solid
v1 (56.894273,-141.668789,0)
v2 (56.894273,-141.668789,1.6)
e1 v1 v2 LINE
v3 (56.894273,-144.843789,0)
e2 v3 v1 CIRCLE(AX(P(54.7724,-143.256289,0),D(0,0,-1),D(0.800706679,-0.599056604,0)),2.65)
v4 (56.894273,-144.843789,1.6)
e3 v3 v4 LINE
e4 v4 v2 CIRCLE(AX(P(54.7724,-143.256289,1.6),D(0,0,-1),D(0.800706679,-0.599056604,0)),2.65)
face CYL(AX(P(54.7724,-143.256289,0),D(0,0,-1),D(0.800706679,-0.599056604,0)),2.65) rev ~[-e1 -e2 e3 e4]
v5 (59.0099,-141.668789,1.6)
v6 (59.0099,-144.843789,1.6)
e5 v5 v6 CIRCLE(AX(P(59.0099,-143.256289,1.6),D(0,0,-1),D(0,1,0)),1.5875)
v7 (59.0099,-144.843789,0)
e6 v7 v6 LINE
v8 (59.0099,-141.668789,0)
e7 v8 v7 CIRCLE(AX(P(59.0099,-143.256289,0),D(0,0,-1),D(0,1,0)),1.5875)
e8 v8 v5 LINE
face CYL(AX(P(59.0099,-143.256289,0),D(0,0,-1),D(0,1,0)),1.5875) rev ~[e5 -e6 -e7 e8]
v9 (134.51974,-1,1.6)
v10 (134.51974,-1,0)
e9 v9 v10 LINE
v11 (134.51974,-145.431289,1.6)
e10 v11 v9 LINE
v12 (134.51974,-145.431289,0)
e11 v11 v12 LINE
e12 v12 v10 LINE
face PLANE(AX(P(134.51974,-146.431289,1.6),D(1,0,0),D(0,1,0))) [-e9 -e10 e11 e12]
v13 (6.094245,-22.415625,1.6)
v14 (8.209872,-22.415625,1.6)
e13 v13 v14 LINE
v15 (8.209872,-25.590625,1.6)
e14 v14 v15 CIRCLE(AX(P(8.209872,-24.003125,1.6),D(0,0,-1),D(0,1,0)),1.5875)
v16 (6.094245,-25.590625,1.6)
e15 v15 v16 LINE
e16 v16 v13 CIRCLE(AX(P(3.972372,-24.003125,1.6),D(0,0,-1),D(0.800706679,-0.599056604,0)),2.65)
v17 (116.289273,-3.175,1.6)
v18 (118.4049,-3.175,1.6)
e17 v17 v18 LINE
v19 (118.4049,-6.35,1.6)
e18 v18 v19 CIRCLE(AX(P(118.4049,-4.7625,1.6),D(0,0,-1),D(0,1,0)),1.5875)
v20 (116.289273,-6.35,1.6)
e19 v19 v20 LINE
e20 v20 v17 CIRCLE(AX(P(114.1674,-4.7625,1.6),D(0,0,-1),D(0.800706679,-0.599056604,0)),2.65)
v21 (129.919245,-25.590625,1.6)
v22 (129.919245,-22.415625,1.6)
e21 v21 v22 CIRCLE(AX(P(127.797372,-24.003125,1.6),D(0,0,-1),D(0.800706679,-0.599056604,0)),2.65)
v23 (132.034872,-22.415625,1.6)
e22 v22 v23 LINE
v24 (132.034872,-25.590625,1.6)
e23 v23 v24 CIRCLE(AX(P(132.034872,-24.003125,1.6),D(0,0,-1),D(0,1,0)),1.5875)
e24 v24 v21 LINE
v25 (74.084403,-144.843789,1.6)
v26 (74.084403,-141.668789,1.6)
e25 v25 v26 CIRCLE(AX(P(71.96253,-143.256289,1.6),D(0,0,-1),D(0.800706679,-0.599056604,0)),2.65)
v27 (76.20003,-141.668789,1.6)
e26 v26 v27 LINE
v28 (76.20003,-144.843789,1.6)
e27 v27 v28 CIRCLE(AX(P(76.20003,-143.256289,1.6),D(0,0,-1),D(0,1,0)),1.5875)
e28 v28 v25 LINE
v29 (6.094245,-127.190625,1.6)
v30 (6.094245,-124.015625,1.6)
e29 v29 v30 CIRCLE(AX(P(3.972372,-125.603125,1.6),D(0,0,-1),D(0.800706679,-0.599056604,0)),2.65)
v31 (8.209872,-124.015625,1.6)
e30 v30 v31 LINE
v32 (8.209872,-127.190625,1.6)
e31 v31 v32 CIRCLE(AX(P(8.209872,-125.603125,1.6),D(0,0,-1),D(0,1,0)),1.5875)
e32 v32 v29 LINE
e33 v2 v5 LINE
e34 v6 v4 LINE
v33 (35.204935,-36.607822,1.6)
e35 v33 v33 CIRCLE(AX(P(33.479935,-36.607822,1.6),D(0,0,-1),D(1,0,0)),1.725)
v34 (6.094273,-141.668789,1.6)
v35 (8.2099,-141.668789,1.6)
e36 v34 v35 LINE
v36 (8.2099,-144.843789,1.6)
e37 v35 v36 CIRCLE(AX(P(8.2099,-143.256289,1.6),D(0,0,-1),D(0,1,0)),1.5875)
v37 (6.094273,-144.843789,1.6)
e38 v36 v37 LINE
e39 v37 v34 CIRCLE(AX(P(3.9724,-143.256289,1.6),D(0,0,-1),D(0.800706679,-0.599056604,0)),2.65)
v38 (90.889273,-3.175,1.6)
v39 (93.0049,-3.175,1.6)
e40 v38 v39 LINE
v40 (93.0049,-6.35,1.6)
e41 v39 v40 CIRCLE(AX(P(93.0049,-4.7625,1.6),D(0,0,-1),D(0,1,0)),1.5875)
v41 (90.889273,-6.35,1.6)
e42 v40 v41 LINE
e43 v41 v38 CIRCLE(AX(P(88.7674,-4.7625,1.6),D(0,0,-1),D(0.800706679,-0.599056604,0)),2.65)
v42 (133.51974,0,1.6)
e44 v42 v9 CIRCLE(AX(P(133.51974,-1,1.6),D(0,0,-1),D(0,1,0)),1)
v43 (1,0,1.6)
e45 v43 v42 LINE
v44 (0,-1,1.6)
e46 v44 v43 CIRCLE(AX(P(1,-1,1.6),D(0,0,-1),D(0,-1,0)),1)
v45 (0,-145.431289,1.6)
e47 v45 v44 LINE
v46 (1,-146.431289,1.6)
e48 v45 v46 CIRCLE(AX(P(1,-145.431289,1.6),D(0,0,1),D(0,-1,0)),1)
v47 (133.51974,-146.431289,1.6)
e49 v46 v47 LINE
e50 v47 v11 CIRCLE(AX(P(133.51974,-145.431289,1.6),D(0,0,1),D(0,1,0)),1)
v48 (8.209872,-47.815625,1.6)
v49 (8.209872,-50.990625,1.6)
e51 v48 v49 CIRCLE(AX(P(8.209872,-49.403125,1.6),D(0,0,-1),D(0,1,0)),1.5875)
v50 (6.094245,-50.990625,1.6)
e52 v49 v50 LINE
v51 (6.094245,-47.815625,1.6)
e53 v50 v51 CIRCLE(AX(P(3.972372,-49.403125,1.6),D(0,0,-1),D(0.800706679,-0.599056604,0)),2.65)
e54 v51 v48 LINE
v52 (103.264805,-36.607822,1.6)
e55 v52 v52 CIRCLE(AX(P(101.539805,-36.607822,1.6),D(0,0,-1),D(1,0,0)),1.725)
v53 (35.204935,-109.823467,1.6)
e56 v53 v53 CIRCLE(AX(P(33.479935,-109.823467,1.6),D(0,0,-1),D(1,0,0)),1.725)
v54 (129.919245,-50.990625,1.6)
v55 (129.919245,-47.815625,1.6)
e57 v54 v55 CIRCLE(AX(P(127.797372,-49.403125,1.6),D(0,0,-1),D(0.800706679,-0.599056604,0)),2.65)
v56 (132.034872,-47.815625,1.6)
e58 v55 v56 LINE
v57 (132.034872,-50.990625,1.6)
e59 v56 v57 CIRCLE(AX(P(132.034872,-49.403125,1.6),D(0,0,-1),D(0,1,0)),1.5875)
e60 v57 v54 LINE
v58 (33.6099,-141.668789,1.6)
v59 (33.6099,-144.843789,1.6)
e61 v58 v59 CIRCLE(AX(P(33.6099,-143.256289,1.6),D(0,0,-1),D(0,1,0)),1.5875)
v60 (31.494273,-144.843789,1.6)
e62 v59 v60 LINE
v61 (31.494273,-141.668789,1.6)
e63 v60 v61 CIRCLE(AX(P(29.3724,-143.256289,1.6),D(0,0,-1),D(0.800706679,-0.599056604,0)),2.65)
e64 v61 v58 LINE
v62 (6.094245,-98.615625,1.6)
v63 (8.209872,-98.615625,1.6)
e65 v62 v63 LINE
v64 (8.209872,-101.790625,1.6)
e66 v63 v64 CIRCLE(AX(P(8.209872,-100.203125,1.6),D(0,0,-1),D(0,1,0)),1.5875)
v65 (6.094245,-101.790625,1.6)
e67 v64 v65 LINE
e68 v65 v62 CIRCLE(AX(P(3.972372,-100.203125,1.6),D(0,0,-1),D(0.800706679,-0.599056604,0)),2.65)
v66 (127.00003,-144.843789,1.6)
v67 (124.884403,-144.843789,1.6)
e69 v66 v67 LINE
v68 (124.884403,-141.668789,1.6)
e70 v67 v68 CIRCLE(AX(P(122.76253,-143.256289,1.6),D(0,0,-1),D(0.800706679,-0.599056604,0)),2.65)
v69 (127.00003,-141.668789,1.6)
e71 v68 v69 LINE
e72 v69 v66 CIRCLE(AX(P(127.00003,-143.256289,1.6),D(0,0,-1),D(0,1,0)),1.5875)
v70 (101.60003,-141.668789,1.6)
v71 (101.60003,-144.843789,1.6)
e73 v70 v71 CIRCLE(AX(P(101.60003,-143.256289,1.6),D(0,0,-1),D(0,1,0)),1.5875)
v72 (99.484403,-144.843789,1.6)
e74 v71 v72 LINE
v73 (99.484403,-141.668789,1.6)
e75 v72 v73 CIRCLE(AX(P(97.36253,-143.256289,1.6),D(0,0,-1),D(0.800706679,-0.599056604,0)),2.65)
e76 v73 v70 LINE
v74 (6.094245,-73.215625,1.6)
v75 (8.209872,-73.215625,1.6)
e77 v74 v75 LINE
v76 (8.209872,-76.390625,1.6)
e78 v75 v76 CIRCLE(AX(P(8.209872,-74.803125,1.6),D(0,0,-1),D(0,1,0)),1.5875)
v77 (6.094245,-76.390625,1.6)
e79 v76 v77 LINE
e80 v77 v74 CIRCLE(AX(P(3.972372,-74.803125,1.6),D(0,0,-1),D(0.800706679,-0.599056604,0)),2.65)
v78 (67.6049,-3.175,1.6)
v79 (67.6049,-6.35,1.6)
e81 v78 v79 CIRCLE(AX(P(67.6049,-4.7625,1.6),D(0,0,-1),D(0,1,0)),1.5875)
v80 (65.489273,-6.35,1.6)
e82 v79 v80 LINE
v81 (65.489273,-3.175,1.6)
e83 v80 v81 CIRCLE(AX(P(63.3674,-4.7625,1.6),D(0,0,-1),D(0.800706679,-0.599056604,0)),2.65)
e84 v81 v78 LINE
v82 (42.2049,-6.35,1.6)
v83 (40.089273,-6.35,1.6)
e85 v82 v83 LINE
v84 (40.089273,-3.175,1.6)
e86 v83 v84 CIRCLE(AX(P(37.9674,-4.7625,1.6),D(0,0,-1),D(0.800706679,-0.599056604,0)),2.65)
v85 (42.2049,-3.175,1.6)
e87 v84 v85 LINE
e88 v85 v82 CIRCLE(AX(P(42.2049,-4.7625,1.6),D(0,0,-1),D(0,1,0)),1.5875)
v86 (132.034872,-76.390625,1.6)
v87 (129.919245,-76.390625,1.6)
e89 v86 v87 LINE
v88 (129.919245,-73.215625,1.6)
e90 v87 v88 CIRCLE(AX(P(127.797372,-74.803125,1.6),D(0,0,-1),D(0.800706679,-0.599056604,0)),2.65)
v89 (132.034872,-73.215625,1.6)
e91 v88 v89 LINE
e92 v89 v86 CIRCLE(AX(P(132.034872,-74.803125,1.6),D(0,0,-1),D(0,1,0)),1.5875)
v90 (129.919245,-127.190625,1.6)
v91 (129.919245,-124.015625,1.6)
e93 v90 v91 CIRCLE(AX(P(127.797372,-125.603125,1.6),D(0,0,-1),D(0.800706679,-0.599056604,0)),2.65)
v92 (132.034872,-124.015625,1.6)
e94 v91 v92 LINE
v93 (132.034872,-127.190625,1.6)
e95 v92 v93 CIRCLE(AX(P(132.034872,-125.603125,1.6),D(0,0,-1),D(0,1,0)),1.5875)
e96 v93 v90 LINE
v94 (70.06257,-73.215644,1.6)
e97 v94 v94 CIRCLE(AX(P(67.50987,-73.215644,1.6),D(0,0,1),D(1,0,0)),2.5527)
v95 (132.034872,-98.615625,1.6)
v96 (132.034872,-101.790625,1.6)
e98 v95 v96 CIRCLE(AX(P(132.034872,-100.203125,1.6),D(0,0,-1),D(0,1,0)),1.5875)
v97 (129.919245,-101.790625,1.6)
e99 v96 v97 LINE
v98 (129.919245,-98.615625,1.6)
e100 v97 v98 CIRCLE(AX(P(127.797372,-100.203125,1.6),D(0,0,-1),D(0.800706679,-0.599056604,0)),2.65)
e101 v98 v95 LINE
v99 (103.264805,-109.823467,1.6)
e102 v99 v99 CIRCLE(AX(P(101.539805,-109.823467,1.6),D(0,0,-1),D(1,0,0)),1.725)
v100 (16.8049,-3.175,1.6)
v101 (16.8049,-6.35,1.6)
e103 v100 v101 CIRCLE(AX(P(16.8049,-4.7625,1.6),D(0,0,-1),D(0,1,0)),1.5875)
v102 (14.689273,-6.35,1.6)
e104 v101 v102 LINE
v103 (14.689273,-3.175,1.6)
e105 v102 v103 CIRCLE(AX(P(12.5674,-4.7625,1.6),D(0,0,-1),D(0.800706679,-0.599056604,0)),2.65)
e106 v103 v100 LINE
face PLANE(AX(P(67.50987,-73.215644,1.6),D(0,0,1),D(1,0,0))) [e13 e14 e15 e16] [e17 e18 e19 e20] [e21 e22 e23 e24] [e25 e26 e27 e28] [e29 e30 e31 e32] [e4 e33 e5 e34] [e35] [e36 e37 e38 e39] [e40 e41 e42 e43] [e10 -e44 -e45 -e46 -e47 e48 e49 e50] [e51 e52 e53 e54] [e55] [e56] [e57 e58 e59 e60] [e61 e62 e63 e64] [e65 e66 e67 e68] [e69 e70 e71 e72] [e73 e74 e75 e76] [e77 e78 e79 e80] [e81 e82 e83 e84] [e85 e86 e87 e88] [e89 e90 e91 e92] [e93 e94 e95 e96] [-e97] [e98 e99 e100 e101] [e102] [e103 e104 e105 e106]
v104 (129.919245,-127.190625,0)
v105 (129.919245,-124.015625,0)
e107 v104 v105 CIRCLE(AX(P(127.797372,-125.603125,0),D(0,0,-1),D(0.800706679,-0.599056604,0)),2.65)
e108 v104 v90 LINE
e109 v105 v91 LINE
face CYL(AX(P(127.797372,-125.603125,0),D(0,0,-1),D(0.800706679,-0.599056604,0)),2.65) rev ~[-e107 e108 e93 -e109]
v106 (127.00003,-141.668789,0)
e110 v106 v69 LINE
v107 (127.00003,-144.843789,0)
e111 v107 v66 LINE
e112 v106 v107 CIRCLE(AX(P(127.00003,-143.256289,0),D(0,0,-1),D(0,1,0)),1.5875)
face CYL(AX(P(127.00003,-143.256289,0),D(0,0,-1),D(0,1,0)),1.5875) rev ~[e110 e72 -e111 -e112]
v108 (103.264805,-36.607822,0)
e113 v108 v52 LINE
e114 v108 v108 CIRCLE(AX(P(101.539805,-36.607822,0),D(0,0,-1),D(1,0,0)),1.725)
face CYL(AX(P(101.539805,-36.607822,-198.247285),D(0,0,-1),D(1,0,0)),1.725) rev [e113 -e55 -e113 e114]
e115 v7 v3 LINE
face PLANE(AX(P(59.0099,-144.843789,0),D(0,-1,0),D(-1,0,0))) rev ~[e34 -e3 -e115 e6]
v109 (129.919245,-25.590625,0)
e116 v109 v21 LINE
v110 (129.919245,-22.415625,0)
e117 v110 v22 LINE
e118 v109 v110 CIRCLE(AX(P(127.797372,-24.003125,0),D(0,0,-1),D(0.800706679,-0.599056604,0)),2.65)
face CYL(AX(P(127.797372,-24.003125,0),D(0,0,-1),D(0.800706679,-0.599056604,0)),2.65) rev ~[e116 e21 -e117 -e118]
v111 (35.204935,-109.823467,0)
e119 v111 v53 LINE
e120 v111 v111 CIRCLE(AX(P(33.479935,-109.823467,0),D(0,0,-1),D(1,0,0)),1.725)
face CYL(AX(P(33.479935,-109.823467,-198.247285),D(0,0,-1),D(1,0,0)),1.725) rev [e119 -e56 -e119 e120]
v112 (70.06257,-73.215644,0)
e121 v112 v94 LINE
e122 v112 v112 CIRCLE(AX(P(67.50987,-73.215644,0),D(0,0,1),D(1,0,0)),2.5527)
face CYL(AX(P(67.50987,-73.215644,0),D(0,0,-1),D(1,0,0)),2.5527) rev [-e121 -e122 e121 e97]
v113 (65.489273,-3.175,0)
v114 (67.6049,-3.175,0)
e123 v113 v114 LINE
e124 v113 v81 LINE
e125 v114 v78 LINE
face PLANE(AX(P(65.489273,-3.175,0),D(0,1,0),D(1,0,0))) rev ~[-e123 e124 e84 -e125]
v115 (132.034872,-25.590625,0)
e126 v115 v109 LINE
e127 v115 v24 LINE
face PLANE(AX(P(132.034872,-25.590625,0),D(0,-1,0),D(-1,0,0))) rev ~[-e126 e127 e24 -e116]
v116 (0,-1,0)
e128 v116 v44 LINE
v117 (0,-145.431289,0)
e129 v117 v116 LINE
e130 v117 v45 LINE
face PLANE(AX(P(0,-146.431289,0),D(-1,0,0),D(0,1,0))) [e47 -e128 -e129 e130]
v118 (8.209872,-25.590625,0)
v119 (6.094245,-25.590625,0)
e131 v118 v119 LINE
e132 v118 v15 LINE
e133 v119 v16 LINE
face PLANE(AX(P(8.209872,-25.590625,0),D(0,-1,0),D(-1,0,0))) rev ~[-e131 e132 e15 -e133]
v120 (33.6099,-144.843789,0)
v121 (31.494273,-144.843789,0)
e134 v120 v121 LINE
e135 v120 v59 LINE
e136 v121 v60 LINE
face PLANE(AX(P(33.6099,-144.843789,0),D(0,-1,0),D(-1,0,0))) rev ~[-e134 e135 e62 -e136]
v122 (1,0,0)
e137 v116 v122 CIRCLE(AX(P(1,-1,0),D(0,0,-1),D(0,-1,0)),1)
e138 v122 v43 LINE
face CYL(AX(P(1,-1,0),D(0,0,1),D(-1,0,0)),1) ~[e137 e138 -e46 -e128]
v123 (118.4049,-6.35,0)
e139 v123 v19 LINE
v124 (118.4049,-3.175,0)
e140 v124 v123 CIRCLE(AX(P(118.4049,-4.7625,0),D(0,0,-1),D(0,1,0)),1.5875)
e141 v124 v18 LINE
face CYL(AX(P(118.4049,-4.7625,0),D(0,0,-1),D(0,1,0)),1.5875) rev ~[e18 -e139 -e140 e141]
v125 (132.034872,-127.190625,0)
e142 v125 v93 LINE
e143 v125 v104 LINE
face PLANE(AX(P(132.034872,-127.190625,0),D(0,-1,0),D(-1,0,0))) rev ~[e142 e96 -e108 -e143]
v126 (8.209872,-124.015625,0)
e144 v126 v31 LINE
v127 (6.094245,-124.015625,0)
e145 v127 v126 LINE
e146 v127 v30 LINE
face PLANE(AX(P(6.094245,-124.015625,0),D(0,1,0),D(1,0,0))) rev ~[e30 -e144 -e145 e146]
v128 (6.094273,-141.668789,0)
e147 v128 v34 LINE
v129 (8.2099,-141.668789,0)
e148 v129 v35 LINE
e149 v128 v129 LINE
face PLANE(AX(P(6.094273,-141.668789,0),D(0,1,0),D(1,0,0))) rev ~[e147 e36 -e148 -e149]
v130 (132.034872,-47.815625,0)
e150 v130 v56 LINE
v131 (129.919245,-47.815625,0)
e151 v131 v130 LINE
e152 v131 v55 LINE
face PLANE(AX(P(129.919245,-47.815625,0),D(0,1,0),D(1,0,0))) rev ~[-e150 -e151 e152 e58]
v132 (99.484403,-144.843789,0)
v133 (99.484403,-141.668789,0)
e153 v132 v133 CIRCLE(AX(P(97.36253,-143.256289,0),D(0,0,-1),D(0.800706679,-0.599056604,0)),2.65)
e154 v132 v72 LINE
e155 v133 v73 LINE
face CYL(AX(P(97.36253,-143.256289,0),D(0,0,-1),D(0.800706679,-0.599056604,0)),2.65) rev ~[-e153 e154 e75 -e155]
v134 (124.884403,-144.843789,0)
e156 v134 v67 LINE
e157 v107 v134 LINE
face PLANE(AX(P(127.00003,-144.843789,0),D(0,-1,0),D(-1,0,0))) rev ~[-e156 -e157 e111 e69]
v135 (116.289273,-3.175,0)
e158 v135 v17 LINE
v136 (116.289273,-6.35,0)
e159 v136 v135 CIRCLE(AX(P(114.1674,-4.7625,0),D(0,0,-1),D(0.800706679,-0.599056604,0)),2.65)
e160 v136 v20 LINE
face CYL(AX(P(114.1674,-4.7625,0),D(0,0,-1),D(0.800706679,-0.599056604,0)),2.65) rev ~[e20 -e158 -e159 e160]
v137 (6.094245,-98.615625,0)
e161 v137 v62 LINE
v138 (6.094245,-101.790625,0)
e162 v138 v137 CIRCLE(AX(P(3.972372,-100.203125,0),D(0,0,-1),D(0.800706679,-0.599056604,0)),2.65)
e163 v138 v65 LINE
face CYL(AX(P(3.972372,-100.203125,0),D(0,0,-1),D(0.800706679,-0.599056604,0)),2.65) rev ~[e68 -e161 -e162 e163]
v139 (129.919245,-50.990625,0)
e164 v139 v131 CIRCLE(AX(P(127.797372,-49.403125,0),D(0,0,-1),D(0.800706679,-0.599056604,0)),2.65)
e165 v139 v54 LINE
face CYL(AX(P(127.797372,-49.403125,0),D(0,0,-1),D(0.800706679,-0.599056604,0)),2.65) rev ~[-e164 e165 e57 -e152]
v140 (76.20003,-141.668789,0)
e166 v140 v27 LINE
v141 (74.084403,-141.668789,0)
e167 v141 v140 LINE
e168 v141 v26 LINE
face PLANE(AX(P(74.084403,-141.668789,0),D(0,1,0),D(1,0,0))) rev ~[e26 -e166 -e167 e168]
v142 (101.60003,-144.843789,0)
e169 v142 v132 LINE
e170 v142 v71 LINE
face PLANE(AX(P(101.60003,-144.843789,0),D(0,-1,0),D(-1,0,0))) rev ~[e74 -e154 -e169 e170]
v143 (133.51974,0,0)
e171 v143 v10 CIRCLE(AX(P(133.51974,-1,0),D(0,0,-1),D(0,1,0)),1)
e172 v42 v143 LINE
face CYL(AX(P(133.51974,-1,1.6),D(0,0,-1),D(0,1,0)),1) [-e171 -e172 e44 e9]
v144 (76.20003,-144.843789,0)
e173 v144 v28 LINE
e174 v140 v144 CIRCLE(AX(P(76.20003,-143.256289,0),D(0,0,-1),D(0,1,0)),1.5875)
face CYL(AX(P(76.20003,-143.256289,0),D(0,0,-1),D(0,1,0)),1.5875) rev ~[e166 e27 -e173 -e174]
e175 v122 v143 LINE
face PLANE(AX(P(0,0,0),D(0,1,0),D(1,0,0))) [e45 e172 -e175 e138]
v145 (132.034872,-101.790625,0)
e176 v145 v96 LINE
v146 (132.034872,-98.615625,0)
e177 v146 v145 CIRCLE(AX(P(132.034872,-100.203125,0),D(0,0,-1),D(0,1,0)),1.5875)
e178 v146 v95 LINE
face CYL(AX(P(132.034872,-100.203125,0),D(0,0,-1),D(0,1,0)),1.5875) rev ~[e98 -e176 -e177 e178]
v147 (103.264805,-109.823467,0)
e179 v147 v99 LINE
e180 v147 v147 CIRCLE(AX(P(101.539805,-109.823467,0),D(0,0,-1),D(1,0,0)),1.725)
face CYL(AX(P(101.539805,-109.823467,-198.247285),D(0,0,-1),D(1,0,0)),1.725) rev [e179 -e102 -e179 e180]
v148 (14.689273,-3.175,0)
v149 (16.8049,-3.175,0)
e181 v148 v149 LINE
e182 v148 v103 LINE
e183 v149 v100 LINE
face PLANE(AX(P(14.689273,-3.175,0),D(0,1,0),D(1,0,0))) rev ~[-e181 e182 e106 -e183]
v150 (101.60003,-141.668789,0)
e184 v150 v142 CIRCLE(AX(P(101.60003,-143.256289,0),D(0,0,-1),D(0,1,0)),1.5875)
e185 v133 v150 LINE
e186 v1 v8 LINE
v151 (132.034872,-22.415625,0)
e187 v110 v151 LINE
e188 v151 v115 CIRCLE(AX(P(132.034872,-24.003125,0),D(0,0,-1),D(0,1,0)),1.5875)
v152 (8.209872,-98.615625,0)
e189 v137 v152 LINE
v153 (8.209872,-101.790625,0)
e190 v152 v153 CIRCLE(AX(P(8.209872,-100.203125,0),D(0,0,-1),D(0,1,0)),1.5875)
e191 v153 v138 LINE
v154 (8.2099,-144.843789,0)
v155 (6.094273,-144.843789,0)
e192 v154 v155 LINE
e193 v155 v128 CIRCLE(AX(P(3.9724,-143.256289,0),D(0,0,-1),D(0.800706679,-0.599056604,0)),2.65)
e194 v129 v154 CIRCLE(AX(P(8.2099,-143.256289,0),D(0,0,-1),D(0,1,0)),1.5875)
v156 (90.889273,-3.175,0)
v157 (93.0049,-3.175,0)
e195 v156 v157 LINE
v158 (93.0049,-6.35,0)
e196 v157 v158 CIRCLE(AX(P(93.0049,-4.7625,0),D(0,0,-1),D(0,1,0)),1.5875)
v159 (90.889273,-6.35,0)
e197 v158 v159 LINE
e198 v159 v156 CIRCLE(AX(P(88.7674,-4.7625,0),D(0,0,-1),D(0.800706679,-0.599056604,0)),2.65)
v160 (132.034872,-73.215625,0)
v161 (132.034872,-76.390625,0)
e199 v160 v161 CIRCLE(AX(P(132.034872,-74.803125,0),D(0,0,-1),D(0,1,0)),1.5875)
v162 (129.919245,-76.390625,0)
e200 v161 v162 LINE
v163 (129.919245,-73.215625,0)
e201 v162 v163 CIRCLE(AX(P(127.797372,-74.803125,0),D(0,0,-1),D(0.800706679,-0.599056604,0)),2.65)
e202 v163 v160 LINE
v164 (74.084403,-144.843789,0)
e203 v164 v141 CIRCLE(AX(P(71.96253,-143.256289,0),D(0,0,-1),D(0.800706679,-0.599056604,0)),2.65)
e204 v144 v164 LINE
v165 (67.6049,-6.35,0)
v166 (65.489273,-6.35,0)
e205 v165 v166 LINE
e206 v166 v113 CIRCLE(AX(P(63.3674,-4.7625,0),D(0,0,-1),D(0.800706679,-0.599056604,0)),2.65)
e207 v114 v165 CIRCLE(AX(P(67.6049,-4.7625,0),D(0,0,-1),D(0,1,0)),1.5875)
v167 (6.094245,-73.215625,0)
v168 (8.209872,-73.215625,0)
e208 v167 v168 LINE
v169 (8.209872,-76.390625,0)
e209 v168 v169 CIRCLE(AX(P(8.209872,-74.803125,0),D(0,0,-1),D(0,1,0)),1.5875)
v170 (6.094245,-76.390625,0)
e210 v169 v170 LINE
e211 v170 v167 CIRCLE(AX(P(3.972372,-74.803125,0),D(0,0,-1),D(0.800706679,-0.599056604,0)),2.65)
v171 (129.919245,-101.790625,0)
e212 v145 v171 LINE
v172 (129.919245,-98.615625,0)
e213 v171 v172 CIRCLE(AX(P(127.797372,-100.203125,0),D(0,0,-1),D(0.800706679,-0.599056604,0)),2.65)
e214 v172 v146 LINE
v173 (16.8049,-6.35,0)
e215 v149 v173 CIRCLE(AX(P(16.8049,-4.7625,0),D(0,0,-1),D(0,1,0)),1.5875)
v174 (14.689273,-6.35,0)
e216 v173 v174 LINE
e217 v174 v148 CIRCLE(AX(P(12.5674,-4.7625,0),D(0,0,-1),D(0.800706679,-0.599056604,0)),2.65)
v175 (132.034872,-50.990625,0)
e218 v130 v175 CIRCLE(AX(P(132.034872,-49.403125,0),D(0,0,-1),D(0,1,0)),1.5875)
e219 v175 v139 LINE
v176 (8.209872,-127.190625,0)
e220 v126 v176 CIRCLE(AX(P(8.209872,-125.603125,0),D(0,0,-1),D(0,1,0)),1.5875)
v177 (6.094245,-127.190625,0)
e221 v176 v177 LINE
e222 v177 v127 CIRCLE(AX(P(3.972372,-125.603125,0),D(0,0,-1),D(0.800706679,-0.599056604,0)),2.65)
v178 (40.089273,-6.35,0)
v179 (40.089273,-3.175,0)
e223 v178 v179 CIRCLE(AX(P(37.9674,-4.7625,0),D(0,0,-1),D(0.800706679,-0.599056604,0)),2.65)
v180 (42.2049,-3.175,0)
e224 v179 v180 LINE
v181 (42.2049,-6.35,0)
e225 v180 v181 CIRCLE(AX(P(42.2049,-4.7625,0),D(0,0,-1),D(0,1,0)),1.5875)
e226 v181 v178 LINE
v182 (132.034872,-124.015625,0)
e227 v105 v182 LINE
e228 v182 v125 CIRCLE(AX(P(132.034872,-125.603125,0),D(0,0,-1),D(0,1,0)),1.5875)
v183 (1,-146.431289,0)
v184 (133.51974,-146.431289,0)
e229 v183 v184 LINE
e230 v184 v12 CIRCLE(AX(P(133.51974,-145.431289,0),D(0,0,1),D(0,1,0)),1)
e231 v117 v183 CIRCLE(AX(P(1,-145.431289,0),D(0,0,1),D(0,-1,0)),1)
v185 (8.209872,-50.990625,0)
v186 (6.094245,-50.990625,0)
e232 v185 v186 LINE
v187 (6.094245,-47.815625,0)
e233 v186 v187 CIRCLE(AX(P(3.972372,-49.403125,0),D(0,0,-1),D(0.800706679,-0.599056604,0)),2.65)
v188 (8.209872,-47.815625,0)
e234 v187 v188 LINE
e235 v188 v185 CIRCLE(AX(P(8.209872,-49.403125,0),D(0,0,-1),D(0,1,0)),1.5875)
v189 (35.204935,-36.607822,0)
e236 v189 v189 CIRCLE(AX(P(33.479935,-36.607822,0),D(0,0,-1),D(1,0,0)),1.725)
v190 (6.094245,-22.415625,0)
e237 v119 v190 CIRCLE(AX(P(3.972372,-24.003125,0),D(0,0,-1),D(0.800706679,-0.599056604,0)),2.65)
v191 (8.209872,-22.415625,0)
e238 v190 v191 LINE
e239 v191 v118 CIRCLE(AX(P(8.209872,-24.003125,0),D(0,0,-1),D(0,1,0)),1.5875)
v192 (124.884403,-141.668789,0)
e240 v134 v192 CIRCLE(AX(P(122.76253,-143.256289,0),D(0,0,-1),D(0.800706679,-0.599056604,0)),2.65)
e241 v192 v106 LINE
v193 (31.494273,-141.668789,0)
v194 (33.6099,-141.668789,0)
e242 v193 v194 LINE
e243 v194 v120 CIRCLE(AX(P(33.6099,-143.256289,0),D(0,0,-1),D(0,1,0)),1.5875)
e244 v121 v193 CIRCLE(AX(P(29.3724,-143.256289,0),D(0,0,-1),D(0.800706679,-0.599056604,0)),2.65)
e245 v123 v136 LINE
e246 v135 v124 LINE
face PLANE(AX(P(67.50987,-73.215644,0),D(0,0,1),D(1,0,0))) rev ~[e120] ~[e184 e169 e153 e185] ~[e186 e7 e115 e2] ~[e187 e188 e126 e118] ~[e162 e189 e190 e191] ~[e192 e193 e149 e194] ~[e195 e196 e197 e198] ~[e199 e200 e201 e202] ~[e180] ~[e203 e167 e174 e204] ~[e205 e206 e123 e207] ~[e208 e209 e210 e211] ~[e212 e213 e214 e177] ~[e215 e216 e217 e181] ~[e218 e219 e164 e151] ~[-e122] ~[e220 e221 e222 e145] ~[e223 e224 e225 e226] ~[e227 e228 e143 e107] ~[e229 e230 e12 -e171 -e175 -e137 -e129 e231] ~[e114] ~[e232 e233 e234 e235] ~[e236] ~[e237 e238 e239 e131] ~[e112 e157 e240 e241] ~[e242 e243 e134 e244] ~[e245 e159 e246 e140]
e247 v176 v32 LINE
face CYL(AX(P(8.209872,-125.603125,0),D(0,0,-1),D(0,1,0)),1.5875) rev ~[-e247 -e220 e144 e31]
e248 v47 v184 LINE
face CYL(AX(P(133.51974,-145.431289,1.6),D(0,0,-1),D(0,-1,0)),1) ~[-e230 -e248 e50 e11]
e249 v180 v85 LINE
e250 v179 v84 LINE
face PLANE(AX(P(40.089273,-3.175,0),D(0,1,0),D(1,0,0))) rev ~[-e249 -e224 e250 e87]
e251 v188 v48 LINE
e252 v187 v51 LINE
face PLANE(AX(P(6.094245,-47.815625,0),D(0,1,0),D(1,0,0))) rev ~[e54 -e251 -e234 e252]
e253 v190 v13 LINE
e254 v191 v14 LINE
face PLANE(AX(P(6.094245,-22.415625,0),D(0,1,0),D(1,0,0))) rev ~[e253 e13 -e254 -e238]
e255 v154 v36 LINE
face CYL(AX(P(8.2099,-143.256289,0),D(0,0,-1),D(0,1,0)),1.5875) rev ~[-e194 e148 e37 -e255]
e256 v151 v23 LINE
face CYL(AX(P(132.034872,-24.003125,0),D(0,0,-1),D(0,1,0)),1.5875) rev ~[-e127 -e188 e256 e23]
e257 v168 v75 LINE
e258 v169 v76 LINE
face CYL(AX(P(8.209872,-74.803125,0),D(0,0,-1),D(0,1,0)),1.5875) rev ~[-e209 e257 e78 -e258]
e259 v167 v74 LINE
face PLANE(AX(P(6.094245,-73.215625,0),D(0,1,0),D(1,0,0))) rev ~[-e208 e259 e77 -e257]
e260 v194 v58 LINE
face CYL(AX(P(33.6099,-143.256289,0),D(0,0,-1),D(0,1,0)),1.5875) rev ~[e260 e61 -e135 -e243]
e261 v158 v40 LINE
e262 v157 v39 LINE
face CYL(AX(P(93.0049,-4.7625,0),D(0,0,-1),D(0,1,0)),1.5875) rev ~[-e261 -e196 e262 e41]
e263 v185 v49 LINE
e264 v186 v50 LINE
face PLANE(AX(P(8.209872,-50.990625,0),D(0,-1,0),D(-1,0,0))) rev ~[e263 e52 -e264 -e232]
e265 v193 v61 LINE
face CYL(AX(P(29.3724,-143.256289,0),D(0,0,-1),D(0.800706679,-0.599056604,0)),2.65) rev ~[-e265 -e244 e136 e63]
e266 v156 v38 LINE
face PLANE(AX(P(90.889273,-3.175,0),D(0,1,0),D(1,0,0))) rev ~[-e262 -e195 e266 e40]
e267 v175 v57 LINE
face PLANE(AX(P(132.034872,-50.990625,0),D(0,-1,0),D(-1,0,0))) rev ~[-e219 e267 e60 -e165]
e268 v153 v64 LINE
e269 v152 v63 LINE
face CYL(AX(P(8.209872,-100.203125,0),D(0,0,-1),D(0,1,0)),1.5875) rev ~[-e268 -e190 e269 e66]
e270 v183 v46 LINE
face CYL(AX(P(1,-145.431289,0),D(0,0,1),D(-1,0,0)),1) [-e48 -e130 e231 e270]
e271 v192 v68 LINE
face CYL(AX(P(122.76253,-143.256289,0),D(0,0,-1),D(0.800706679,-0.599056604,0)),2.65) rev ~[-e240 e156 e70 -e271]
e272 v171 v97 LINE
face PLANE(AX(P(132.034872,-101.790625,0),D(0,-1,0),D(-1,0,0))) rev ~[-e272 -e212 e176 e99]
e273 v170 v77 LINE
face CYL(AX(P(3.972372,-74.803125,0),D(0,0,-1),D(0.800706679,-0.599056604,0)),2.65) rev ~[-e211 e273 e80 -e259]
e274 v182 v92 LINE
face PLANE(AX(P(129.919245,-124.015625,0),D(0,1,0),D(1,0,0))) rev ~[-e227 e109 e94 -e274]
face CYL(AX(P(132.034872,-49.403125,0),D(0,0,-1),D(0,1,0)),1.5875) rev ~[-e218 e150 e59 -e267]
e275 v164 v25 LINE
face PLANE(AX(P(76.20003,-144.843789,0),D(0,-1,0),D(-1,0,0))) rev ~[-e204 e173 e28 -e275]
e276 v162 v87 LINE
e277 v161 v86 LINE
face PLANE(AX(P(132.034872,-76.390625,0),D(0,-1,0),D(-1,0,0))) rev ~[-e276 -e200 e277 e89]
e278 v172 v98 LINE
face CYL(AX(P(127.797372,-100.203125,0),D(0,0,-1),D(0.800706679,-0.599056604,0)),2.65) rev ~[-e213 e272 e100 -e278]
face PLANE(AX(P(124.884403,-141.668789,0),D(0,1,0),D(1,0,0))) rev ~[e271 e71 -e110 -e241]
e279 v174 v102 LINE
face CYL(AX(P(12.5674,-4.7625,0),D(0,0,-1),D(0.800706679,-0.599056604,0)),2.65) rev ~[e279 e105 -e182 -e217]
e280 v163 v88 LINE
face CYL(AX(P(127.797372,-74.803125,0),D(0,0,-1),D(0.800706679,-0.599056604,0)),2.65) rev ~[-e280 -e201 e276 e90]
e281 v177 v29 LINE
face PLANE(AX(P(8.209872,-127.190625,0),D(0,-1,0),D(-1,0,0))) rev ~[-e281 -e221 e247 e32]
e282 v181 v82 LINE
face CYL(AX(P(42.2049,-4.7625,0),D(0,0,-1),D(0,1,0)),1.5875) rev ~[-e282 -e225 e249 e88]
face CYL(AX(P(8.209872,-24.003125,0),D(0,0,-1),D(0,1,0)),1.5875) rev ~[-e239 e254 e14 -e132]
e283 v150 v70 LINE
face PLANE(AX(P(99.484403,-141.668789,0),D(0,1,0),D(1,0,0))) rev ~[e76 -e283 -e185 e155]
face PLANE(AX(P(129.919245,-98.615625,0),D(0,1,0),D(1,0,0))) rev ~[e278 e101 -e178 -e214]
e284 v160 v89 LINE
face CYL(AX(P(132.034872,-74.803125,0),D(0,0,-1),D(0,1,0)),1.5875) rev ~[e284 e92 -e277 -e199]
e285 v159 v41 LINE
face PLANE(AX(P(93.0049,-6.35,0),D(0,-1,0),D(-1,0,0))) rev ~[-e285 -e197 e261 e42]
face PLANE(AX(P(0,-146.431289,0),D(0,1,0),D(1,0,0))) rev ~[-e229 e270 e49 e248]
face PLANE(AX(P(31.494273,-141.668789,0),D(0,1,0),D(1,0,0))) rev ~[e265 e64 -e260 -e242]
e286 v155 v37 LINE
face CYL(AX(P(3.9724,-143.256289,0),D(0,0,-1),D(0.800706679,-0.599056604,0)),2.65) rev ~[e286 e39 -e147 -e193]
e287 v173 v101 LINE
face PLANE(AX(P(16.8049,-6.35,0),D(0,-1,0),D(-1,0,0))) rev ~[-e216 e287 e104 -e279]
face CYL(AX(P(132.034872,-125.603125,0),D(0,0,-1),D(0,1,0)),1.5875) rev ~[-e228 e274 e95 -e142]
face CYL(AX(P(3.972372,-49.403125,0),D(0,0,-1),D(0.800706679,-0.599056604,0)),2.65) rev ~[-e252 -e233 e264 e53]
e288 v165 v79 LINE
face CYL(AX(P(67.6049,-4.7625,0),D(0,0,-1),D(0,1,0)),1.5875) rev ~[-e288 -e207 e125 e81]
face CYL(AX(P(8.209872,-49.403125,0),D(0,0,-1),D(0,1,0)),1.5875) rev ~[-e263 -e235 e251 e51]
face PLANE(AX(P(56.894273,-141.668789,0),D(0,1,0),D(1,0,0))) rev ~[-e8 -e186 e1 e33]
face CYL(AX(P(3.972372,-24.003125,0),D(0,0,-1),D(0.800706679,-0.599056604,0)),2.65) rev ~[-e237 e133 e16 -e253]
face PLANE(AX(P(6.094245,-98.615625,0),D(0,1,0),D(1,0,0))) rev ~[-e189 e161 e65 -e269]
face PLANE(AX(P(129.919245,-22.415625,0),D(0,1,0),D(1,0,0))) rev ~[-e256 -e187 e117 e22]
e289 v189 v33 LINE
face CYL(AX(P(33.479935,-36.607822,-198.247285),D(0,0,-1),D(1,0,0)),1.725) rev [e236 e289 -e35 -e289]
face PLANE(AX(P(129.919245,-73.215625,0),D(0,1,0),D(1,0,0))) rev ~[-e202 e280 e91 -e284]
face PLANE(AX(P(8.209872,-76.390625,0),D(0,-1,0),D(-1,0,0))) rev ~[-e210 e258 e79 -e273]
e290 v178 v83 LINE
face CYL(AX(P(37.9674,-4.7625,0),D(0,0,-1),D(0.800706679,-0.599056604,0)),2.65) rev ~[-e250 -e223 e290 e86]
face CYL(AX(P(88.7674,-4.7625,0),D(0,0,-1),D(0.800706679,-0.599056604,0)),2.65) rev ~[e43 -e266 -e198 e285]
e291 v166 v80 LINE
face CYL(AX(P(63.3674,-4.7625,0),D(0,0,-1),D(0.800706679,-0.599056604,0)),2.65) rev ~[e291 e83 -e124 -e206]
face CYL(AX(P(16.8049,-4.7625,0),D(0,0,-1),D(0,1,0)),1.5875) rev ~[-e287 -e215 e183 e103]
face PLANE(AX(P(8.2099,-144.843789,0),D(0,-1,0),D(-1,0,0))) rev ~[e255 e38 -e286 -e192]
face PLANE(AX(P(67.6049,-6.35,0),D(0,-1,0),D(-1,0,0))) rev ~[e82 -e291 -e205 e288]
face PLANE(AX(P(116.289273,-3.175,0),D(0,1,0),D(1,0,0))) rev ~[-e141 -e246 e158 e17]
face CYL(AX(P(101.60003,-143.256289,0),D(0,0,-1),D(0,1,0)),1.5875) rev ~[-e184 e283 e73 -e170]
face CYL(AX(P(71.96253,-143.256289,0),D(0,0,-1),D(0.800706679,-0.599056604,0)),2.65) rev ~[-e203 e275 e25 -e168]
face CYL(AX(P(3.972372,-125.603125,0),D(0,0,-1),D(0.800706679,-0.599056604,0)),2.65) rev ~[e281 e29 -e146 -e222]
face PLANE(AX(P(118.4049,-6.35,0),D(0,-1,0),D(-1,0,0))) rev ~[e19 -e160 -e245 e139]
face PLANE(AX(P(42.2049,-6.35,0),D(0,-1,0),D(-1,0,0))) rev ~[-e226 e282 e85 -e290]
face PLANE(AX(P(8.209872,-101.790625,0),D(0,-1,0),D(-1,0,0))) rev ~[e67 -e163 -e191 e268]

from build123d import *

# Parameters (mm, degrees)
SKETCH1_W               = 135.01974
SKETCH1_H               = 146.431289
SKETCH1_R               = 2.5527
BOSS_EXTRUDE1_DEPTH     = 1.6
SKETCH3_W               = 0.5
SKETCH3_H               = 146.431289
CUT_EXTRUDE1_DEPTH      = 1.6
FILLET1_R               = 1
CUT_EXTRUDE2_DEPTH      = 199.847285241
CUT_EXTRUDE2_DEPTH_BACK = 199.847285241
SKETCH4_R               = 1.725


with BuildPart() as part:
    # Sketch1 → Boss-Extrude1 (new body)
    with BuildSketch(Plane.XY):
        with Locations((67.50987, -73.2156445)):
            Rectangle(SKETCH1_W, SKETCH1_H)
        with BuildLine():
            Line((65.489272699, -3.175), (67.6049, -3.175))
            ThreePointArc((67.6049, -3.175), (69.1924, -4.7625), (67.6049, -6.35))
            Line((67.6049, -6.35), (65.489272699, -6.35))
            ThreePointArc((65.489272699, -6.35), (60.7174, -4.7625), (65.489272699, -3.175))
        make_face(mode=Mode.SUBTRACT)
        with Locations((67.50987, -73.2156445)):
            Circle(SKETCH1_R, mode=Mode.SUBTRACT)
        with BuildLine():
            Line((6.094272699, -141.668789), (8.2099, -141.668789))
            ThreePointArc((8.2099, -141.668789), (9.7974, -143.256289), (8.2099, -144.843789))
            Line((8.2099, -144.843789), (6.094272699, -144.843789))
            ThreePointArc((6.094272699, -144.843789), (1.3224, -143.256289), (6.094272699, -141.668789))
        make_face(mode=Mode.SUBTRACT)
        with BuildLine():
            Line((31.494272699, -141.668789), (33.6099, -141.668789))
            ThreePointArc((33.6099, -141.668789), (35.1974, -143.256289), (33.6099, -144.843789))
            Line((33.6099, -144.843789), (31.494272699, -144.843789))
            ThreePointArc((31.494272699, -144.843789), (26.7224, -143.256289), (31.494272699, -141.668789))
        make_face(mode=Mode.SUBTRACT)
        with BuildLine():
            Line((6.094244639, -124.015625), (8.20987194, -124.015625))
            ThreePointArc((8.20987194, -124.015625), (9.79737194, -125.603125), (8.20987194, -127.190625))
            Line((8.20987194, -127.190625), (6.094244639, -127.190625))
            ThreePointArc((6.094244639, -127.190625), (1.32237194, -125.603125), (6.094244639, -124.015625))
        make_face(mode=Mode.SUBTRACT)
        with BuildLine():
            Line((56.894272699, -141.668789), (59.0099, -141.668789))
            ThreePointArc((59.0099, -141.668789), (60.5974, -143.256289), (59.0099, -144.843789))
            Line((59.0099, -144.843789), (56.894272699, -144.843789))
            ThreePointArc((56.894272699, -144.843789), (52.1224, -143.256289), (56.894272699, -141.668789))
        make_face(mode=Mode.SUBTRACT)
        with BuildLine():
            Line((6.094244639, -98.615625), (8.20987194, -98.615625))
            ThreePointArc((8.20987194, -98.615625), (9.79737194, -100.203125), (8.20987194, -101.790625))
            Line((8.20987194, -101.790625), (6.094244639, -101.790625))
            ThreePointArc((6.094244639, -101.790625), (1.32237194, -100.203125), (6.094244639, -98.615625))
        make_face(mode=Mode.SUBTRACT)
        with BuildLine():
            Line((6.094244639, -73.215625), (8.20987194, -73.215625))
            ThreePointArc((8.20987194, -73.215625), (9.79737194, -74.803125), (8.20987194, -76.390625))
            Line((8.20987194, -76.390625), (6.094244639, -76.390625))
            ThreePointArc((6.094244639, -76.390625), (1.32237194, -74.803125), (6.094244639, -73.215625))
        make_face(mode=Mode.SUBTRACT)
        with BuildLine():
            Line((6.094244639, -47.815625), (8.20987194, -47.815625))
            ThreePointArc((8.20987194, -47.815625), (9.79737194, -49.403125), (8.20987194, -50.990625))
            Line((8.20987194, -50.990625), (6.094244639, -50.990625))
            ThreePointArc((6.094244639, -50.990625), (1.32237194, -49.403125), (6.094244639, -47.815625))
        make_face(mode=Mode.SUBTRACT)
        with BuildLine():
            Line((6.094244639, -22.415625), (8.20987194, -22.415625))
            ThreePointArc((8.20987194, -22.415625), (9.79737194, -24.003125), (8.20987194, -25.590625))
            Line((8.20987194, -25.590625), (6.094244639, -25.590625))
            ThreePointArc((6.094244639, -25.590625), (1.32237194, -24.003125), (6.094244639, -22.415625))
        make_face(mode=Mode.SUBTRACT)
        with BuildLine():
            Line((14.689272699, -3.175), (16.8049, -3.175))
            ThreePointArc((16.8049, -3.175), (18.3924, -4.7625), (16.8049, -6.35))
            Line((16.8049, -6.35), (14.689272699, -6.35))
            ThreePointArc((14.689272699, -6.35), (9.9174, -4.7625), (14.689272699, -3.175))
        make_face(mode=Mode.SUBTRACT)
        with BuildLine():
            Line((40.089272699, -3.175), (42.2049, -3.175))
            ThreePointArc((42.2049, -3.175), (43.7924, -4.7625), (42.2049, -6.35))
            Line((42.2049, -6.35), (40.089272699, -6.35))
            ThreePointArc((40.089272699, -6.35), (35.3174, -4.7625), (40.089272699, -3.175))
        make_face(mode=Mode.SUBTRACT)
        with BuildLine():
            Line((118.4049, -6.35), (116.289272699, -6.35))
            ThreePointArc((116.289272699, -6.35), (111.5174, -4.7625), (116.289272699, -3.175))
            Line((116.289272699, -3.175), (118.4049, -3.175))
            ThreePointArc((118.4049, -3.175), (119.9924, -4.7625), (118.4049, -6.35))
        make_face(mode=Mode.SUBTRACT)
        with BuildLine():
            Line((76.20003, -144.843789), (74.084402699, -144.843789))
            ThreePointArc((74.084402699, -144.843789), (69.31253, -143.256289), (74.084402699, -141.668789))
            Line((74.084402699, -141.668789), (76.20003, -141.668789))
            ThreePointArc((76.20003, -141.668789), (77.78753, -143.256289), (76.20003, -144.843789))
        make_face(mode=Mode.SUBTRACT)
        with BuildLine():
            Line((99.484402699, -141.668789), (101.60003, -141.668789))
            ThreePointArc((101.60003, -141.668789), (103.18753, -143.256289), (101.60003, -144.843789))
            Line((101.60003, -144.843789), (99.484402699, -144.843789))
            ThreePointArc((99.484402699, -144.843789), (94.71253, -143.256289), (99.484402699, -141.668789))
        make_face(mode=Mode.SUBTRACT)
        with BuildLine():
            Line((124.884402699, -141.668789), (127.00003, -141.668789))
            ThreePointArc((127.00003, -141.668789), (128.58753, -143.256289), (127.00003, -144.843789))
            Line((127.00003, -144.843789), (124.884402699, -144.843789))
            ThreePointArc((124.884402699, -144.843789), (120.11253, -143.256289), (124.884402699, -141.668789))
        make_face(mode=Mode.SUBTRACT)
        with BuildLine():
            Line((129.919244699, -124.015625), (132.034872, -124.015625))
            ThreePointArc((132.034872, -124.015625), (133.622372, -125.603125), (132.034872, -127.190625))
            Line((132.034872, -127.190625), (129.919244699, -127.190625))
            ThreePointArc((129.919244699, -127.190625), (125.147372, -125.603125), (129.919244699, -124.015625))
        make_face(mode=Mode.SUBTRACT)
        with BuildLine():
            Line((129.919244699, -98.615625), (132.034872, -98.615625))
            ThreePointArc((132.034872, -98.615625), (133.622372, -100.203125), (132.034872, -101.790625))
            Line((132.034872, -101.790625), (129.919244699, -101.790625))
            ThreePointArc((129.919244699, -101.790625), (125.147372, -100.203125), (129.919244699, -98.615625))
        make_face(mode=Mode.SUBTRACT)
        with BuildLine():
            Line((129.919244699, -73.215625), (132.034872, -73.215625))
            ThreePointArc((132.034872, -73.215625), (133.622372, -74.803125), (132.034872, -76.390625))
            Line((132.034872, -76.390625), (129.919244699, -76.390625))
            ThreePointArc((129.919244699, -76.390625), (125.147372, -74.803125), (129.919244699, -73.215625))
        make_face(mode=Mode.SUBTRACT)
        with BuildLine():
            Line((129.919244699, -47.815625), (132.034872, -47.815625))
            ThreePointArc((132.034872, -47.815625), (133.622372, -49.403125), (132.034872, -50.990625))
            Line((132.034872, -50.990625), (129.919244699, -50.990625))
            ThreePointArc((129.919244699, -50.990625), (125.147372, -49.403125), (129.919244699, -47.815625))
        make_face(mode=Mode.SUBTRACT)
        with BuildLine():
            Line((90.889272699, -3.175), (93.0049, -3.175))
            ThreePointArc((93.0049, -3.175), (94.5924, -4.7625), (93.0049, -6.35))
            Line((93.0049, -6.35), (90.889272699, -6.35))
            ThreePointArc((90.889272699, -6.35), (86.1174, -4.7625), (90.889272699, -3.175))
        make_face(mode=Mode.SUBTRACT)
        with BuildLine():
            Line((129.919244699, -22.415625), (132.034872, -22.415625))
            ThreePointArc((132.034872, -22.415625), (133.622372, -24.003125), (132.034872, -25.590625))
            Line((132.034872, -25.590625), (129.919244699, -25.590625))
            ThreePointArc((129.919244699, -25.590625), (125.147372, -24.003125), (129.919244699, -22.415625))
        make_face(mode=Mode.SUBTRACT)
    extrude(amount=BOSS_EXTRUDE1_DEPTH)

    # Sketch3 → Cut-Extrude1 (cut)
    with BuildSketch(Plane.XY.offset(1.6)):
        with Locations((134.76974, -73.2156445)):
            Rectangle(SKETCH3_W, SKETCH3_H)
    extrude(amount=-CUT_EXTRUDE1_DEPTH, mode=Mode.SUBTRACT)

    # Fillet1
    fillet1_edges = [part.edges().sort_by_distance(p)[0] for p in [
        (0, -146.431289, 0.8),
        (0, 0, 0.8),
        (134.51974, 0, 0.8),
        (134.51974, -146.431289, 0.8),
    ]]
    fillet(fillet1_edges, radius=FILLET1_R)

    # Sketch4 → Cut-Extrude2 (cut, two sides: drawn at the far end of the back side and taken through both)
    with BuildSketch(Plane.XY.offset(1.6).offset(-CUT_EXTRUDE2_DEPTH_BACK)):
        with Locations((33.479935, -36.60782225)):
            Circle(SKETCH4_R)
        with Locations((101.539805, -36.60782225)):
            Circle(SKETCH4_R)
        with Locations((101.539805, -109.82346675)):
            Circle(SKETCH4_R)
        with Locations((33.479935, -109.82346675)):
            Circle(SKETCH4_R)
    extrude(amount=CUT_EXTRUDE2_DEPTH + CUT_EXTRUDE2_DEPTH_BACK, mode=Mode.SUBTRACT)


solid = part.part
